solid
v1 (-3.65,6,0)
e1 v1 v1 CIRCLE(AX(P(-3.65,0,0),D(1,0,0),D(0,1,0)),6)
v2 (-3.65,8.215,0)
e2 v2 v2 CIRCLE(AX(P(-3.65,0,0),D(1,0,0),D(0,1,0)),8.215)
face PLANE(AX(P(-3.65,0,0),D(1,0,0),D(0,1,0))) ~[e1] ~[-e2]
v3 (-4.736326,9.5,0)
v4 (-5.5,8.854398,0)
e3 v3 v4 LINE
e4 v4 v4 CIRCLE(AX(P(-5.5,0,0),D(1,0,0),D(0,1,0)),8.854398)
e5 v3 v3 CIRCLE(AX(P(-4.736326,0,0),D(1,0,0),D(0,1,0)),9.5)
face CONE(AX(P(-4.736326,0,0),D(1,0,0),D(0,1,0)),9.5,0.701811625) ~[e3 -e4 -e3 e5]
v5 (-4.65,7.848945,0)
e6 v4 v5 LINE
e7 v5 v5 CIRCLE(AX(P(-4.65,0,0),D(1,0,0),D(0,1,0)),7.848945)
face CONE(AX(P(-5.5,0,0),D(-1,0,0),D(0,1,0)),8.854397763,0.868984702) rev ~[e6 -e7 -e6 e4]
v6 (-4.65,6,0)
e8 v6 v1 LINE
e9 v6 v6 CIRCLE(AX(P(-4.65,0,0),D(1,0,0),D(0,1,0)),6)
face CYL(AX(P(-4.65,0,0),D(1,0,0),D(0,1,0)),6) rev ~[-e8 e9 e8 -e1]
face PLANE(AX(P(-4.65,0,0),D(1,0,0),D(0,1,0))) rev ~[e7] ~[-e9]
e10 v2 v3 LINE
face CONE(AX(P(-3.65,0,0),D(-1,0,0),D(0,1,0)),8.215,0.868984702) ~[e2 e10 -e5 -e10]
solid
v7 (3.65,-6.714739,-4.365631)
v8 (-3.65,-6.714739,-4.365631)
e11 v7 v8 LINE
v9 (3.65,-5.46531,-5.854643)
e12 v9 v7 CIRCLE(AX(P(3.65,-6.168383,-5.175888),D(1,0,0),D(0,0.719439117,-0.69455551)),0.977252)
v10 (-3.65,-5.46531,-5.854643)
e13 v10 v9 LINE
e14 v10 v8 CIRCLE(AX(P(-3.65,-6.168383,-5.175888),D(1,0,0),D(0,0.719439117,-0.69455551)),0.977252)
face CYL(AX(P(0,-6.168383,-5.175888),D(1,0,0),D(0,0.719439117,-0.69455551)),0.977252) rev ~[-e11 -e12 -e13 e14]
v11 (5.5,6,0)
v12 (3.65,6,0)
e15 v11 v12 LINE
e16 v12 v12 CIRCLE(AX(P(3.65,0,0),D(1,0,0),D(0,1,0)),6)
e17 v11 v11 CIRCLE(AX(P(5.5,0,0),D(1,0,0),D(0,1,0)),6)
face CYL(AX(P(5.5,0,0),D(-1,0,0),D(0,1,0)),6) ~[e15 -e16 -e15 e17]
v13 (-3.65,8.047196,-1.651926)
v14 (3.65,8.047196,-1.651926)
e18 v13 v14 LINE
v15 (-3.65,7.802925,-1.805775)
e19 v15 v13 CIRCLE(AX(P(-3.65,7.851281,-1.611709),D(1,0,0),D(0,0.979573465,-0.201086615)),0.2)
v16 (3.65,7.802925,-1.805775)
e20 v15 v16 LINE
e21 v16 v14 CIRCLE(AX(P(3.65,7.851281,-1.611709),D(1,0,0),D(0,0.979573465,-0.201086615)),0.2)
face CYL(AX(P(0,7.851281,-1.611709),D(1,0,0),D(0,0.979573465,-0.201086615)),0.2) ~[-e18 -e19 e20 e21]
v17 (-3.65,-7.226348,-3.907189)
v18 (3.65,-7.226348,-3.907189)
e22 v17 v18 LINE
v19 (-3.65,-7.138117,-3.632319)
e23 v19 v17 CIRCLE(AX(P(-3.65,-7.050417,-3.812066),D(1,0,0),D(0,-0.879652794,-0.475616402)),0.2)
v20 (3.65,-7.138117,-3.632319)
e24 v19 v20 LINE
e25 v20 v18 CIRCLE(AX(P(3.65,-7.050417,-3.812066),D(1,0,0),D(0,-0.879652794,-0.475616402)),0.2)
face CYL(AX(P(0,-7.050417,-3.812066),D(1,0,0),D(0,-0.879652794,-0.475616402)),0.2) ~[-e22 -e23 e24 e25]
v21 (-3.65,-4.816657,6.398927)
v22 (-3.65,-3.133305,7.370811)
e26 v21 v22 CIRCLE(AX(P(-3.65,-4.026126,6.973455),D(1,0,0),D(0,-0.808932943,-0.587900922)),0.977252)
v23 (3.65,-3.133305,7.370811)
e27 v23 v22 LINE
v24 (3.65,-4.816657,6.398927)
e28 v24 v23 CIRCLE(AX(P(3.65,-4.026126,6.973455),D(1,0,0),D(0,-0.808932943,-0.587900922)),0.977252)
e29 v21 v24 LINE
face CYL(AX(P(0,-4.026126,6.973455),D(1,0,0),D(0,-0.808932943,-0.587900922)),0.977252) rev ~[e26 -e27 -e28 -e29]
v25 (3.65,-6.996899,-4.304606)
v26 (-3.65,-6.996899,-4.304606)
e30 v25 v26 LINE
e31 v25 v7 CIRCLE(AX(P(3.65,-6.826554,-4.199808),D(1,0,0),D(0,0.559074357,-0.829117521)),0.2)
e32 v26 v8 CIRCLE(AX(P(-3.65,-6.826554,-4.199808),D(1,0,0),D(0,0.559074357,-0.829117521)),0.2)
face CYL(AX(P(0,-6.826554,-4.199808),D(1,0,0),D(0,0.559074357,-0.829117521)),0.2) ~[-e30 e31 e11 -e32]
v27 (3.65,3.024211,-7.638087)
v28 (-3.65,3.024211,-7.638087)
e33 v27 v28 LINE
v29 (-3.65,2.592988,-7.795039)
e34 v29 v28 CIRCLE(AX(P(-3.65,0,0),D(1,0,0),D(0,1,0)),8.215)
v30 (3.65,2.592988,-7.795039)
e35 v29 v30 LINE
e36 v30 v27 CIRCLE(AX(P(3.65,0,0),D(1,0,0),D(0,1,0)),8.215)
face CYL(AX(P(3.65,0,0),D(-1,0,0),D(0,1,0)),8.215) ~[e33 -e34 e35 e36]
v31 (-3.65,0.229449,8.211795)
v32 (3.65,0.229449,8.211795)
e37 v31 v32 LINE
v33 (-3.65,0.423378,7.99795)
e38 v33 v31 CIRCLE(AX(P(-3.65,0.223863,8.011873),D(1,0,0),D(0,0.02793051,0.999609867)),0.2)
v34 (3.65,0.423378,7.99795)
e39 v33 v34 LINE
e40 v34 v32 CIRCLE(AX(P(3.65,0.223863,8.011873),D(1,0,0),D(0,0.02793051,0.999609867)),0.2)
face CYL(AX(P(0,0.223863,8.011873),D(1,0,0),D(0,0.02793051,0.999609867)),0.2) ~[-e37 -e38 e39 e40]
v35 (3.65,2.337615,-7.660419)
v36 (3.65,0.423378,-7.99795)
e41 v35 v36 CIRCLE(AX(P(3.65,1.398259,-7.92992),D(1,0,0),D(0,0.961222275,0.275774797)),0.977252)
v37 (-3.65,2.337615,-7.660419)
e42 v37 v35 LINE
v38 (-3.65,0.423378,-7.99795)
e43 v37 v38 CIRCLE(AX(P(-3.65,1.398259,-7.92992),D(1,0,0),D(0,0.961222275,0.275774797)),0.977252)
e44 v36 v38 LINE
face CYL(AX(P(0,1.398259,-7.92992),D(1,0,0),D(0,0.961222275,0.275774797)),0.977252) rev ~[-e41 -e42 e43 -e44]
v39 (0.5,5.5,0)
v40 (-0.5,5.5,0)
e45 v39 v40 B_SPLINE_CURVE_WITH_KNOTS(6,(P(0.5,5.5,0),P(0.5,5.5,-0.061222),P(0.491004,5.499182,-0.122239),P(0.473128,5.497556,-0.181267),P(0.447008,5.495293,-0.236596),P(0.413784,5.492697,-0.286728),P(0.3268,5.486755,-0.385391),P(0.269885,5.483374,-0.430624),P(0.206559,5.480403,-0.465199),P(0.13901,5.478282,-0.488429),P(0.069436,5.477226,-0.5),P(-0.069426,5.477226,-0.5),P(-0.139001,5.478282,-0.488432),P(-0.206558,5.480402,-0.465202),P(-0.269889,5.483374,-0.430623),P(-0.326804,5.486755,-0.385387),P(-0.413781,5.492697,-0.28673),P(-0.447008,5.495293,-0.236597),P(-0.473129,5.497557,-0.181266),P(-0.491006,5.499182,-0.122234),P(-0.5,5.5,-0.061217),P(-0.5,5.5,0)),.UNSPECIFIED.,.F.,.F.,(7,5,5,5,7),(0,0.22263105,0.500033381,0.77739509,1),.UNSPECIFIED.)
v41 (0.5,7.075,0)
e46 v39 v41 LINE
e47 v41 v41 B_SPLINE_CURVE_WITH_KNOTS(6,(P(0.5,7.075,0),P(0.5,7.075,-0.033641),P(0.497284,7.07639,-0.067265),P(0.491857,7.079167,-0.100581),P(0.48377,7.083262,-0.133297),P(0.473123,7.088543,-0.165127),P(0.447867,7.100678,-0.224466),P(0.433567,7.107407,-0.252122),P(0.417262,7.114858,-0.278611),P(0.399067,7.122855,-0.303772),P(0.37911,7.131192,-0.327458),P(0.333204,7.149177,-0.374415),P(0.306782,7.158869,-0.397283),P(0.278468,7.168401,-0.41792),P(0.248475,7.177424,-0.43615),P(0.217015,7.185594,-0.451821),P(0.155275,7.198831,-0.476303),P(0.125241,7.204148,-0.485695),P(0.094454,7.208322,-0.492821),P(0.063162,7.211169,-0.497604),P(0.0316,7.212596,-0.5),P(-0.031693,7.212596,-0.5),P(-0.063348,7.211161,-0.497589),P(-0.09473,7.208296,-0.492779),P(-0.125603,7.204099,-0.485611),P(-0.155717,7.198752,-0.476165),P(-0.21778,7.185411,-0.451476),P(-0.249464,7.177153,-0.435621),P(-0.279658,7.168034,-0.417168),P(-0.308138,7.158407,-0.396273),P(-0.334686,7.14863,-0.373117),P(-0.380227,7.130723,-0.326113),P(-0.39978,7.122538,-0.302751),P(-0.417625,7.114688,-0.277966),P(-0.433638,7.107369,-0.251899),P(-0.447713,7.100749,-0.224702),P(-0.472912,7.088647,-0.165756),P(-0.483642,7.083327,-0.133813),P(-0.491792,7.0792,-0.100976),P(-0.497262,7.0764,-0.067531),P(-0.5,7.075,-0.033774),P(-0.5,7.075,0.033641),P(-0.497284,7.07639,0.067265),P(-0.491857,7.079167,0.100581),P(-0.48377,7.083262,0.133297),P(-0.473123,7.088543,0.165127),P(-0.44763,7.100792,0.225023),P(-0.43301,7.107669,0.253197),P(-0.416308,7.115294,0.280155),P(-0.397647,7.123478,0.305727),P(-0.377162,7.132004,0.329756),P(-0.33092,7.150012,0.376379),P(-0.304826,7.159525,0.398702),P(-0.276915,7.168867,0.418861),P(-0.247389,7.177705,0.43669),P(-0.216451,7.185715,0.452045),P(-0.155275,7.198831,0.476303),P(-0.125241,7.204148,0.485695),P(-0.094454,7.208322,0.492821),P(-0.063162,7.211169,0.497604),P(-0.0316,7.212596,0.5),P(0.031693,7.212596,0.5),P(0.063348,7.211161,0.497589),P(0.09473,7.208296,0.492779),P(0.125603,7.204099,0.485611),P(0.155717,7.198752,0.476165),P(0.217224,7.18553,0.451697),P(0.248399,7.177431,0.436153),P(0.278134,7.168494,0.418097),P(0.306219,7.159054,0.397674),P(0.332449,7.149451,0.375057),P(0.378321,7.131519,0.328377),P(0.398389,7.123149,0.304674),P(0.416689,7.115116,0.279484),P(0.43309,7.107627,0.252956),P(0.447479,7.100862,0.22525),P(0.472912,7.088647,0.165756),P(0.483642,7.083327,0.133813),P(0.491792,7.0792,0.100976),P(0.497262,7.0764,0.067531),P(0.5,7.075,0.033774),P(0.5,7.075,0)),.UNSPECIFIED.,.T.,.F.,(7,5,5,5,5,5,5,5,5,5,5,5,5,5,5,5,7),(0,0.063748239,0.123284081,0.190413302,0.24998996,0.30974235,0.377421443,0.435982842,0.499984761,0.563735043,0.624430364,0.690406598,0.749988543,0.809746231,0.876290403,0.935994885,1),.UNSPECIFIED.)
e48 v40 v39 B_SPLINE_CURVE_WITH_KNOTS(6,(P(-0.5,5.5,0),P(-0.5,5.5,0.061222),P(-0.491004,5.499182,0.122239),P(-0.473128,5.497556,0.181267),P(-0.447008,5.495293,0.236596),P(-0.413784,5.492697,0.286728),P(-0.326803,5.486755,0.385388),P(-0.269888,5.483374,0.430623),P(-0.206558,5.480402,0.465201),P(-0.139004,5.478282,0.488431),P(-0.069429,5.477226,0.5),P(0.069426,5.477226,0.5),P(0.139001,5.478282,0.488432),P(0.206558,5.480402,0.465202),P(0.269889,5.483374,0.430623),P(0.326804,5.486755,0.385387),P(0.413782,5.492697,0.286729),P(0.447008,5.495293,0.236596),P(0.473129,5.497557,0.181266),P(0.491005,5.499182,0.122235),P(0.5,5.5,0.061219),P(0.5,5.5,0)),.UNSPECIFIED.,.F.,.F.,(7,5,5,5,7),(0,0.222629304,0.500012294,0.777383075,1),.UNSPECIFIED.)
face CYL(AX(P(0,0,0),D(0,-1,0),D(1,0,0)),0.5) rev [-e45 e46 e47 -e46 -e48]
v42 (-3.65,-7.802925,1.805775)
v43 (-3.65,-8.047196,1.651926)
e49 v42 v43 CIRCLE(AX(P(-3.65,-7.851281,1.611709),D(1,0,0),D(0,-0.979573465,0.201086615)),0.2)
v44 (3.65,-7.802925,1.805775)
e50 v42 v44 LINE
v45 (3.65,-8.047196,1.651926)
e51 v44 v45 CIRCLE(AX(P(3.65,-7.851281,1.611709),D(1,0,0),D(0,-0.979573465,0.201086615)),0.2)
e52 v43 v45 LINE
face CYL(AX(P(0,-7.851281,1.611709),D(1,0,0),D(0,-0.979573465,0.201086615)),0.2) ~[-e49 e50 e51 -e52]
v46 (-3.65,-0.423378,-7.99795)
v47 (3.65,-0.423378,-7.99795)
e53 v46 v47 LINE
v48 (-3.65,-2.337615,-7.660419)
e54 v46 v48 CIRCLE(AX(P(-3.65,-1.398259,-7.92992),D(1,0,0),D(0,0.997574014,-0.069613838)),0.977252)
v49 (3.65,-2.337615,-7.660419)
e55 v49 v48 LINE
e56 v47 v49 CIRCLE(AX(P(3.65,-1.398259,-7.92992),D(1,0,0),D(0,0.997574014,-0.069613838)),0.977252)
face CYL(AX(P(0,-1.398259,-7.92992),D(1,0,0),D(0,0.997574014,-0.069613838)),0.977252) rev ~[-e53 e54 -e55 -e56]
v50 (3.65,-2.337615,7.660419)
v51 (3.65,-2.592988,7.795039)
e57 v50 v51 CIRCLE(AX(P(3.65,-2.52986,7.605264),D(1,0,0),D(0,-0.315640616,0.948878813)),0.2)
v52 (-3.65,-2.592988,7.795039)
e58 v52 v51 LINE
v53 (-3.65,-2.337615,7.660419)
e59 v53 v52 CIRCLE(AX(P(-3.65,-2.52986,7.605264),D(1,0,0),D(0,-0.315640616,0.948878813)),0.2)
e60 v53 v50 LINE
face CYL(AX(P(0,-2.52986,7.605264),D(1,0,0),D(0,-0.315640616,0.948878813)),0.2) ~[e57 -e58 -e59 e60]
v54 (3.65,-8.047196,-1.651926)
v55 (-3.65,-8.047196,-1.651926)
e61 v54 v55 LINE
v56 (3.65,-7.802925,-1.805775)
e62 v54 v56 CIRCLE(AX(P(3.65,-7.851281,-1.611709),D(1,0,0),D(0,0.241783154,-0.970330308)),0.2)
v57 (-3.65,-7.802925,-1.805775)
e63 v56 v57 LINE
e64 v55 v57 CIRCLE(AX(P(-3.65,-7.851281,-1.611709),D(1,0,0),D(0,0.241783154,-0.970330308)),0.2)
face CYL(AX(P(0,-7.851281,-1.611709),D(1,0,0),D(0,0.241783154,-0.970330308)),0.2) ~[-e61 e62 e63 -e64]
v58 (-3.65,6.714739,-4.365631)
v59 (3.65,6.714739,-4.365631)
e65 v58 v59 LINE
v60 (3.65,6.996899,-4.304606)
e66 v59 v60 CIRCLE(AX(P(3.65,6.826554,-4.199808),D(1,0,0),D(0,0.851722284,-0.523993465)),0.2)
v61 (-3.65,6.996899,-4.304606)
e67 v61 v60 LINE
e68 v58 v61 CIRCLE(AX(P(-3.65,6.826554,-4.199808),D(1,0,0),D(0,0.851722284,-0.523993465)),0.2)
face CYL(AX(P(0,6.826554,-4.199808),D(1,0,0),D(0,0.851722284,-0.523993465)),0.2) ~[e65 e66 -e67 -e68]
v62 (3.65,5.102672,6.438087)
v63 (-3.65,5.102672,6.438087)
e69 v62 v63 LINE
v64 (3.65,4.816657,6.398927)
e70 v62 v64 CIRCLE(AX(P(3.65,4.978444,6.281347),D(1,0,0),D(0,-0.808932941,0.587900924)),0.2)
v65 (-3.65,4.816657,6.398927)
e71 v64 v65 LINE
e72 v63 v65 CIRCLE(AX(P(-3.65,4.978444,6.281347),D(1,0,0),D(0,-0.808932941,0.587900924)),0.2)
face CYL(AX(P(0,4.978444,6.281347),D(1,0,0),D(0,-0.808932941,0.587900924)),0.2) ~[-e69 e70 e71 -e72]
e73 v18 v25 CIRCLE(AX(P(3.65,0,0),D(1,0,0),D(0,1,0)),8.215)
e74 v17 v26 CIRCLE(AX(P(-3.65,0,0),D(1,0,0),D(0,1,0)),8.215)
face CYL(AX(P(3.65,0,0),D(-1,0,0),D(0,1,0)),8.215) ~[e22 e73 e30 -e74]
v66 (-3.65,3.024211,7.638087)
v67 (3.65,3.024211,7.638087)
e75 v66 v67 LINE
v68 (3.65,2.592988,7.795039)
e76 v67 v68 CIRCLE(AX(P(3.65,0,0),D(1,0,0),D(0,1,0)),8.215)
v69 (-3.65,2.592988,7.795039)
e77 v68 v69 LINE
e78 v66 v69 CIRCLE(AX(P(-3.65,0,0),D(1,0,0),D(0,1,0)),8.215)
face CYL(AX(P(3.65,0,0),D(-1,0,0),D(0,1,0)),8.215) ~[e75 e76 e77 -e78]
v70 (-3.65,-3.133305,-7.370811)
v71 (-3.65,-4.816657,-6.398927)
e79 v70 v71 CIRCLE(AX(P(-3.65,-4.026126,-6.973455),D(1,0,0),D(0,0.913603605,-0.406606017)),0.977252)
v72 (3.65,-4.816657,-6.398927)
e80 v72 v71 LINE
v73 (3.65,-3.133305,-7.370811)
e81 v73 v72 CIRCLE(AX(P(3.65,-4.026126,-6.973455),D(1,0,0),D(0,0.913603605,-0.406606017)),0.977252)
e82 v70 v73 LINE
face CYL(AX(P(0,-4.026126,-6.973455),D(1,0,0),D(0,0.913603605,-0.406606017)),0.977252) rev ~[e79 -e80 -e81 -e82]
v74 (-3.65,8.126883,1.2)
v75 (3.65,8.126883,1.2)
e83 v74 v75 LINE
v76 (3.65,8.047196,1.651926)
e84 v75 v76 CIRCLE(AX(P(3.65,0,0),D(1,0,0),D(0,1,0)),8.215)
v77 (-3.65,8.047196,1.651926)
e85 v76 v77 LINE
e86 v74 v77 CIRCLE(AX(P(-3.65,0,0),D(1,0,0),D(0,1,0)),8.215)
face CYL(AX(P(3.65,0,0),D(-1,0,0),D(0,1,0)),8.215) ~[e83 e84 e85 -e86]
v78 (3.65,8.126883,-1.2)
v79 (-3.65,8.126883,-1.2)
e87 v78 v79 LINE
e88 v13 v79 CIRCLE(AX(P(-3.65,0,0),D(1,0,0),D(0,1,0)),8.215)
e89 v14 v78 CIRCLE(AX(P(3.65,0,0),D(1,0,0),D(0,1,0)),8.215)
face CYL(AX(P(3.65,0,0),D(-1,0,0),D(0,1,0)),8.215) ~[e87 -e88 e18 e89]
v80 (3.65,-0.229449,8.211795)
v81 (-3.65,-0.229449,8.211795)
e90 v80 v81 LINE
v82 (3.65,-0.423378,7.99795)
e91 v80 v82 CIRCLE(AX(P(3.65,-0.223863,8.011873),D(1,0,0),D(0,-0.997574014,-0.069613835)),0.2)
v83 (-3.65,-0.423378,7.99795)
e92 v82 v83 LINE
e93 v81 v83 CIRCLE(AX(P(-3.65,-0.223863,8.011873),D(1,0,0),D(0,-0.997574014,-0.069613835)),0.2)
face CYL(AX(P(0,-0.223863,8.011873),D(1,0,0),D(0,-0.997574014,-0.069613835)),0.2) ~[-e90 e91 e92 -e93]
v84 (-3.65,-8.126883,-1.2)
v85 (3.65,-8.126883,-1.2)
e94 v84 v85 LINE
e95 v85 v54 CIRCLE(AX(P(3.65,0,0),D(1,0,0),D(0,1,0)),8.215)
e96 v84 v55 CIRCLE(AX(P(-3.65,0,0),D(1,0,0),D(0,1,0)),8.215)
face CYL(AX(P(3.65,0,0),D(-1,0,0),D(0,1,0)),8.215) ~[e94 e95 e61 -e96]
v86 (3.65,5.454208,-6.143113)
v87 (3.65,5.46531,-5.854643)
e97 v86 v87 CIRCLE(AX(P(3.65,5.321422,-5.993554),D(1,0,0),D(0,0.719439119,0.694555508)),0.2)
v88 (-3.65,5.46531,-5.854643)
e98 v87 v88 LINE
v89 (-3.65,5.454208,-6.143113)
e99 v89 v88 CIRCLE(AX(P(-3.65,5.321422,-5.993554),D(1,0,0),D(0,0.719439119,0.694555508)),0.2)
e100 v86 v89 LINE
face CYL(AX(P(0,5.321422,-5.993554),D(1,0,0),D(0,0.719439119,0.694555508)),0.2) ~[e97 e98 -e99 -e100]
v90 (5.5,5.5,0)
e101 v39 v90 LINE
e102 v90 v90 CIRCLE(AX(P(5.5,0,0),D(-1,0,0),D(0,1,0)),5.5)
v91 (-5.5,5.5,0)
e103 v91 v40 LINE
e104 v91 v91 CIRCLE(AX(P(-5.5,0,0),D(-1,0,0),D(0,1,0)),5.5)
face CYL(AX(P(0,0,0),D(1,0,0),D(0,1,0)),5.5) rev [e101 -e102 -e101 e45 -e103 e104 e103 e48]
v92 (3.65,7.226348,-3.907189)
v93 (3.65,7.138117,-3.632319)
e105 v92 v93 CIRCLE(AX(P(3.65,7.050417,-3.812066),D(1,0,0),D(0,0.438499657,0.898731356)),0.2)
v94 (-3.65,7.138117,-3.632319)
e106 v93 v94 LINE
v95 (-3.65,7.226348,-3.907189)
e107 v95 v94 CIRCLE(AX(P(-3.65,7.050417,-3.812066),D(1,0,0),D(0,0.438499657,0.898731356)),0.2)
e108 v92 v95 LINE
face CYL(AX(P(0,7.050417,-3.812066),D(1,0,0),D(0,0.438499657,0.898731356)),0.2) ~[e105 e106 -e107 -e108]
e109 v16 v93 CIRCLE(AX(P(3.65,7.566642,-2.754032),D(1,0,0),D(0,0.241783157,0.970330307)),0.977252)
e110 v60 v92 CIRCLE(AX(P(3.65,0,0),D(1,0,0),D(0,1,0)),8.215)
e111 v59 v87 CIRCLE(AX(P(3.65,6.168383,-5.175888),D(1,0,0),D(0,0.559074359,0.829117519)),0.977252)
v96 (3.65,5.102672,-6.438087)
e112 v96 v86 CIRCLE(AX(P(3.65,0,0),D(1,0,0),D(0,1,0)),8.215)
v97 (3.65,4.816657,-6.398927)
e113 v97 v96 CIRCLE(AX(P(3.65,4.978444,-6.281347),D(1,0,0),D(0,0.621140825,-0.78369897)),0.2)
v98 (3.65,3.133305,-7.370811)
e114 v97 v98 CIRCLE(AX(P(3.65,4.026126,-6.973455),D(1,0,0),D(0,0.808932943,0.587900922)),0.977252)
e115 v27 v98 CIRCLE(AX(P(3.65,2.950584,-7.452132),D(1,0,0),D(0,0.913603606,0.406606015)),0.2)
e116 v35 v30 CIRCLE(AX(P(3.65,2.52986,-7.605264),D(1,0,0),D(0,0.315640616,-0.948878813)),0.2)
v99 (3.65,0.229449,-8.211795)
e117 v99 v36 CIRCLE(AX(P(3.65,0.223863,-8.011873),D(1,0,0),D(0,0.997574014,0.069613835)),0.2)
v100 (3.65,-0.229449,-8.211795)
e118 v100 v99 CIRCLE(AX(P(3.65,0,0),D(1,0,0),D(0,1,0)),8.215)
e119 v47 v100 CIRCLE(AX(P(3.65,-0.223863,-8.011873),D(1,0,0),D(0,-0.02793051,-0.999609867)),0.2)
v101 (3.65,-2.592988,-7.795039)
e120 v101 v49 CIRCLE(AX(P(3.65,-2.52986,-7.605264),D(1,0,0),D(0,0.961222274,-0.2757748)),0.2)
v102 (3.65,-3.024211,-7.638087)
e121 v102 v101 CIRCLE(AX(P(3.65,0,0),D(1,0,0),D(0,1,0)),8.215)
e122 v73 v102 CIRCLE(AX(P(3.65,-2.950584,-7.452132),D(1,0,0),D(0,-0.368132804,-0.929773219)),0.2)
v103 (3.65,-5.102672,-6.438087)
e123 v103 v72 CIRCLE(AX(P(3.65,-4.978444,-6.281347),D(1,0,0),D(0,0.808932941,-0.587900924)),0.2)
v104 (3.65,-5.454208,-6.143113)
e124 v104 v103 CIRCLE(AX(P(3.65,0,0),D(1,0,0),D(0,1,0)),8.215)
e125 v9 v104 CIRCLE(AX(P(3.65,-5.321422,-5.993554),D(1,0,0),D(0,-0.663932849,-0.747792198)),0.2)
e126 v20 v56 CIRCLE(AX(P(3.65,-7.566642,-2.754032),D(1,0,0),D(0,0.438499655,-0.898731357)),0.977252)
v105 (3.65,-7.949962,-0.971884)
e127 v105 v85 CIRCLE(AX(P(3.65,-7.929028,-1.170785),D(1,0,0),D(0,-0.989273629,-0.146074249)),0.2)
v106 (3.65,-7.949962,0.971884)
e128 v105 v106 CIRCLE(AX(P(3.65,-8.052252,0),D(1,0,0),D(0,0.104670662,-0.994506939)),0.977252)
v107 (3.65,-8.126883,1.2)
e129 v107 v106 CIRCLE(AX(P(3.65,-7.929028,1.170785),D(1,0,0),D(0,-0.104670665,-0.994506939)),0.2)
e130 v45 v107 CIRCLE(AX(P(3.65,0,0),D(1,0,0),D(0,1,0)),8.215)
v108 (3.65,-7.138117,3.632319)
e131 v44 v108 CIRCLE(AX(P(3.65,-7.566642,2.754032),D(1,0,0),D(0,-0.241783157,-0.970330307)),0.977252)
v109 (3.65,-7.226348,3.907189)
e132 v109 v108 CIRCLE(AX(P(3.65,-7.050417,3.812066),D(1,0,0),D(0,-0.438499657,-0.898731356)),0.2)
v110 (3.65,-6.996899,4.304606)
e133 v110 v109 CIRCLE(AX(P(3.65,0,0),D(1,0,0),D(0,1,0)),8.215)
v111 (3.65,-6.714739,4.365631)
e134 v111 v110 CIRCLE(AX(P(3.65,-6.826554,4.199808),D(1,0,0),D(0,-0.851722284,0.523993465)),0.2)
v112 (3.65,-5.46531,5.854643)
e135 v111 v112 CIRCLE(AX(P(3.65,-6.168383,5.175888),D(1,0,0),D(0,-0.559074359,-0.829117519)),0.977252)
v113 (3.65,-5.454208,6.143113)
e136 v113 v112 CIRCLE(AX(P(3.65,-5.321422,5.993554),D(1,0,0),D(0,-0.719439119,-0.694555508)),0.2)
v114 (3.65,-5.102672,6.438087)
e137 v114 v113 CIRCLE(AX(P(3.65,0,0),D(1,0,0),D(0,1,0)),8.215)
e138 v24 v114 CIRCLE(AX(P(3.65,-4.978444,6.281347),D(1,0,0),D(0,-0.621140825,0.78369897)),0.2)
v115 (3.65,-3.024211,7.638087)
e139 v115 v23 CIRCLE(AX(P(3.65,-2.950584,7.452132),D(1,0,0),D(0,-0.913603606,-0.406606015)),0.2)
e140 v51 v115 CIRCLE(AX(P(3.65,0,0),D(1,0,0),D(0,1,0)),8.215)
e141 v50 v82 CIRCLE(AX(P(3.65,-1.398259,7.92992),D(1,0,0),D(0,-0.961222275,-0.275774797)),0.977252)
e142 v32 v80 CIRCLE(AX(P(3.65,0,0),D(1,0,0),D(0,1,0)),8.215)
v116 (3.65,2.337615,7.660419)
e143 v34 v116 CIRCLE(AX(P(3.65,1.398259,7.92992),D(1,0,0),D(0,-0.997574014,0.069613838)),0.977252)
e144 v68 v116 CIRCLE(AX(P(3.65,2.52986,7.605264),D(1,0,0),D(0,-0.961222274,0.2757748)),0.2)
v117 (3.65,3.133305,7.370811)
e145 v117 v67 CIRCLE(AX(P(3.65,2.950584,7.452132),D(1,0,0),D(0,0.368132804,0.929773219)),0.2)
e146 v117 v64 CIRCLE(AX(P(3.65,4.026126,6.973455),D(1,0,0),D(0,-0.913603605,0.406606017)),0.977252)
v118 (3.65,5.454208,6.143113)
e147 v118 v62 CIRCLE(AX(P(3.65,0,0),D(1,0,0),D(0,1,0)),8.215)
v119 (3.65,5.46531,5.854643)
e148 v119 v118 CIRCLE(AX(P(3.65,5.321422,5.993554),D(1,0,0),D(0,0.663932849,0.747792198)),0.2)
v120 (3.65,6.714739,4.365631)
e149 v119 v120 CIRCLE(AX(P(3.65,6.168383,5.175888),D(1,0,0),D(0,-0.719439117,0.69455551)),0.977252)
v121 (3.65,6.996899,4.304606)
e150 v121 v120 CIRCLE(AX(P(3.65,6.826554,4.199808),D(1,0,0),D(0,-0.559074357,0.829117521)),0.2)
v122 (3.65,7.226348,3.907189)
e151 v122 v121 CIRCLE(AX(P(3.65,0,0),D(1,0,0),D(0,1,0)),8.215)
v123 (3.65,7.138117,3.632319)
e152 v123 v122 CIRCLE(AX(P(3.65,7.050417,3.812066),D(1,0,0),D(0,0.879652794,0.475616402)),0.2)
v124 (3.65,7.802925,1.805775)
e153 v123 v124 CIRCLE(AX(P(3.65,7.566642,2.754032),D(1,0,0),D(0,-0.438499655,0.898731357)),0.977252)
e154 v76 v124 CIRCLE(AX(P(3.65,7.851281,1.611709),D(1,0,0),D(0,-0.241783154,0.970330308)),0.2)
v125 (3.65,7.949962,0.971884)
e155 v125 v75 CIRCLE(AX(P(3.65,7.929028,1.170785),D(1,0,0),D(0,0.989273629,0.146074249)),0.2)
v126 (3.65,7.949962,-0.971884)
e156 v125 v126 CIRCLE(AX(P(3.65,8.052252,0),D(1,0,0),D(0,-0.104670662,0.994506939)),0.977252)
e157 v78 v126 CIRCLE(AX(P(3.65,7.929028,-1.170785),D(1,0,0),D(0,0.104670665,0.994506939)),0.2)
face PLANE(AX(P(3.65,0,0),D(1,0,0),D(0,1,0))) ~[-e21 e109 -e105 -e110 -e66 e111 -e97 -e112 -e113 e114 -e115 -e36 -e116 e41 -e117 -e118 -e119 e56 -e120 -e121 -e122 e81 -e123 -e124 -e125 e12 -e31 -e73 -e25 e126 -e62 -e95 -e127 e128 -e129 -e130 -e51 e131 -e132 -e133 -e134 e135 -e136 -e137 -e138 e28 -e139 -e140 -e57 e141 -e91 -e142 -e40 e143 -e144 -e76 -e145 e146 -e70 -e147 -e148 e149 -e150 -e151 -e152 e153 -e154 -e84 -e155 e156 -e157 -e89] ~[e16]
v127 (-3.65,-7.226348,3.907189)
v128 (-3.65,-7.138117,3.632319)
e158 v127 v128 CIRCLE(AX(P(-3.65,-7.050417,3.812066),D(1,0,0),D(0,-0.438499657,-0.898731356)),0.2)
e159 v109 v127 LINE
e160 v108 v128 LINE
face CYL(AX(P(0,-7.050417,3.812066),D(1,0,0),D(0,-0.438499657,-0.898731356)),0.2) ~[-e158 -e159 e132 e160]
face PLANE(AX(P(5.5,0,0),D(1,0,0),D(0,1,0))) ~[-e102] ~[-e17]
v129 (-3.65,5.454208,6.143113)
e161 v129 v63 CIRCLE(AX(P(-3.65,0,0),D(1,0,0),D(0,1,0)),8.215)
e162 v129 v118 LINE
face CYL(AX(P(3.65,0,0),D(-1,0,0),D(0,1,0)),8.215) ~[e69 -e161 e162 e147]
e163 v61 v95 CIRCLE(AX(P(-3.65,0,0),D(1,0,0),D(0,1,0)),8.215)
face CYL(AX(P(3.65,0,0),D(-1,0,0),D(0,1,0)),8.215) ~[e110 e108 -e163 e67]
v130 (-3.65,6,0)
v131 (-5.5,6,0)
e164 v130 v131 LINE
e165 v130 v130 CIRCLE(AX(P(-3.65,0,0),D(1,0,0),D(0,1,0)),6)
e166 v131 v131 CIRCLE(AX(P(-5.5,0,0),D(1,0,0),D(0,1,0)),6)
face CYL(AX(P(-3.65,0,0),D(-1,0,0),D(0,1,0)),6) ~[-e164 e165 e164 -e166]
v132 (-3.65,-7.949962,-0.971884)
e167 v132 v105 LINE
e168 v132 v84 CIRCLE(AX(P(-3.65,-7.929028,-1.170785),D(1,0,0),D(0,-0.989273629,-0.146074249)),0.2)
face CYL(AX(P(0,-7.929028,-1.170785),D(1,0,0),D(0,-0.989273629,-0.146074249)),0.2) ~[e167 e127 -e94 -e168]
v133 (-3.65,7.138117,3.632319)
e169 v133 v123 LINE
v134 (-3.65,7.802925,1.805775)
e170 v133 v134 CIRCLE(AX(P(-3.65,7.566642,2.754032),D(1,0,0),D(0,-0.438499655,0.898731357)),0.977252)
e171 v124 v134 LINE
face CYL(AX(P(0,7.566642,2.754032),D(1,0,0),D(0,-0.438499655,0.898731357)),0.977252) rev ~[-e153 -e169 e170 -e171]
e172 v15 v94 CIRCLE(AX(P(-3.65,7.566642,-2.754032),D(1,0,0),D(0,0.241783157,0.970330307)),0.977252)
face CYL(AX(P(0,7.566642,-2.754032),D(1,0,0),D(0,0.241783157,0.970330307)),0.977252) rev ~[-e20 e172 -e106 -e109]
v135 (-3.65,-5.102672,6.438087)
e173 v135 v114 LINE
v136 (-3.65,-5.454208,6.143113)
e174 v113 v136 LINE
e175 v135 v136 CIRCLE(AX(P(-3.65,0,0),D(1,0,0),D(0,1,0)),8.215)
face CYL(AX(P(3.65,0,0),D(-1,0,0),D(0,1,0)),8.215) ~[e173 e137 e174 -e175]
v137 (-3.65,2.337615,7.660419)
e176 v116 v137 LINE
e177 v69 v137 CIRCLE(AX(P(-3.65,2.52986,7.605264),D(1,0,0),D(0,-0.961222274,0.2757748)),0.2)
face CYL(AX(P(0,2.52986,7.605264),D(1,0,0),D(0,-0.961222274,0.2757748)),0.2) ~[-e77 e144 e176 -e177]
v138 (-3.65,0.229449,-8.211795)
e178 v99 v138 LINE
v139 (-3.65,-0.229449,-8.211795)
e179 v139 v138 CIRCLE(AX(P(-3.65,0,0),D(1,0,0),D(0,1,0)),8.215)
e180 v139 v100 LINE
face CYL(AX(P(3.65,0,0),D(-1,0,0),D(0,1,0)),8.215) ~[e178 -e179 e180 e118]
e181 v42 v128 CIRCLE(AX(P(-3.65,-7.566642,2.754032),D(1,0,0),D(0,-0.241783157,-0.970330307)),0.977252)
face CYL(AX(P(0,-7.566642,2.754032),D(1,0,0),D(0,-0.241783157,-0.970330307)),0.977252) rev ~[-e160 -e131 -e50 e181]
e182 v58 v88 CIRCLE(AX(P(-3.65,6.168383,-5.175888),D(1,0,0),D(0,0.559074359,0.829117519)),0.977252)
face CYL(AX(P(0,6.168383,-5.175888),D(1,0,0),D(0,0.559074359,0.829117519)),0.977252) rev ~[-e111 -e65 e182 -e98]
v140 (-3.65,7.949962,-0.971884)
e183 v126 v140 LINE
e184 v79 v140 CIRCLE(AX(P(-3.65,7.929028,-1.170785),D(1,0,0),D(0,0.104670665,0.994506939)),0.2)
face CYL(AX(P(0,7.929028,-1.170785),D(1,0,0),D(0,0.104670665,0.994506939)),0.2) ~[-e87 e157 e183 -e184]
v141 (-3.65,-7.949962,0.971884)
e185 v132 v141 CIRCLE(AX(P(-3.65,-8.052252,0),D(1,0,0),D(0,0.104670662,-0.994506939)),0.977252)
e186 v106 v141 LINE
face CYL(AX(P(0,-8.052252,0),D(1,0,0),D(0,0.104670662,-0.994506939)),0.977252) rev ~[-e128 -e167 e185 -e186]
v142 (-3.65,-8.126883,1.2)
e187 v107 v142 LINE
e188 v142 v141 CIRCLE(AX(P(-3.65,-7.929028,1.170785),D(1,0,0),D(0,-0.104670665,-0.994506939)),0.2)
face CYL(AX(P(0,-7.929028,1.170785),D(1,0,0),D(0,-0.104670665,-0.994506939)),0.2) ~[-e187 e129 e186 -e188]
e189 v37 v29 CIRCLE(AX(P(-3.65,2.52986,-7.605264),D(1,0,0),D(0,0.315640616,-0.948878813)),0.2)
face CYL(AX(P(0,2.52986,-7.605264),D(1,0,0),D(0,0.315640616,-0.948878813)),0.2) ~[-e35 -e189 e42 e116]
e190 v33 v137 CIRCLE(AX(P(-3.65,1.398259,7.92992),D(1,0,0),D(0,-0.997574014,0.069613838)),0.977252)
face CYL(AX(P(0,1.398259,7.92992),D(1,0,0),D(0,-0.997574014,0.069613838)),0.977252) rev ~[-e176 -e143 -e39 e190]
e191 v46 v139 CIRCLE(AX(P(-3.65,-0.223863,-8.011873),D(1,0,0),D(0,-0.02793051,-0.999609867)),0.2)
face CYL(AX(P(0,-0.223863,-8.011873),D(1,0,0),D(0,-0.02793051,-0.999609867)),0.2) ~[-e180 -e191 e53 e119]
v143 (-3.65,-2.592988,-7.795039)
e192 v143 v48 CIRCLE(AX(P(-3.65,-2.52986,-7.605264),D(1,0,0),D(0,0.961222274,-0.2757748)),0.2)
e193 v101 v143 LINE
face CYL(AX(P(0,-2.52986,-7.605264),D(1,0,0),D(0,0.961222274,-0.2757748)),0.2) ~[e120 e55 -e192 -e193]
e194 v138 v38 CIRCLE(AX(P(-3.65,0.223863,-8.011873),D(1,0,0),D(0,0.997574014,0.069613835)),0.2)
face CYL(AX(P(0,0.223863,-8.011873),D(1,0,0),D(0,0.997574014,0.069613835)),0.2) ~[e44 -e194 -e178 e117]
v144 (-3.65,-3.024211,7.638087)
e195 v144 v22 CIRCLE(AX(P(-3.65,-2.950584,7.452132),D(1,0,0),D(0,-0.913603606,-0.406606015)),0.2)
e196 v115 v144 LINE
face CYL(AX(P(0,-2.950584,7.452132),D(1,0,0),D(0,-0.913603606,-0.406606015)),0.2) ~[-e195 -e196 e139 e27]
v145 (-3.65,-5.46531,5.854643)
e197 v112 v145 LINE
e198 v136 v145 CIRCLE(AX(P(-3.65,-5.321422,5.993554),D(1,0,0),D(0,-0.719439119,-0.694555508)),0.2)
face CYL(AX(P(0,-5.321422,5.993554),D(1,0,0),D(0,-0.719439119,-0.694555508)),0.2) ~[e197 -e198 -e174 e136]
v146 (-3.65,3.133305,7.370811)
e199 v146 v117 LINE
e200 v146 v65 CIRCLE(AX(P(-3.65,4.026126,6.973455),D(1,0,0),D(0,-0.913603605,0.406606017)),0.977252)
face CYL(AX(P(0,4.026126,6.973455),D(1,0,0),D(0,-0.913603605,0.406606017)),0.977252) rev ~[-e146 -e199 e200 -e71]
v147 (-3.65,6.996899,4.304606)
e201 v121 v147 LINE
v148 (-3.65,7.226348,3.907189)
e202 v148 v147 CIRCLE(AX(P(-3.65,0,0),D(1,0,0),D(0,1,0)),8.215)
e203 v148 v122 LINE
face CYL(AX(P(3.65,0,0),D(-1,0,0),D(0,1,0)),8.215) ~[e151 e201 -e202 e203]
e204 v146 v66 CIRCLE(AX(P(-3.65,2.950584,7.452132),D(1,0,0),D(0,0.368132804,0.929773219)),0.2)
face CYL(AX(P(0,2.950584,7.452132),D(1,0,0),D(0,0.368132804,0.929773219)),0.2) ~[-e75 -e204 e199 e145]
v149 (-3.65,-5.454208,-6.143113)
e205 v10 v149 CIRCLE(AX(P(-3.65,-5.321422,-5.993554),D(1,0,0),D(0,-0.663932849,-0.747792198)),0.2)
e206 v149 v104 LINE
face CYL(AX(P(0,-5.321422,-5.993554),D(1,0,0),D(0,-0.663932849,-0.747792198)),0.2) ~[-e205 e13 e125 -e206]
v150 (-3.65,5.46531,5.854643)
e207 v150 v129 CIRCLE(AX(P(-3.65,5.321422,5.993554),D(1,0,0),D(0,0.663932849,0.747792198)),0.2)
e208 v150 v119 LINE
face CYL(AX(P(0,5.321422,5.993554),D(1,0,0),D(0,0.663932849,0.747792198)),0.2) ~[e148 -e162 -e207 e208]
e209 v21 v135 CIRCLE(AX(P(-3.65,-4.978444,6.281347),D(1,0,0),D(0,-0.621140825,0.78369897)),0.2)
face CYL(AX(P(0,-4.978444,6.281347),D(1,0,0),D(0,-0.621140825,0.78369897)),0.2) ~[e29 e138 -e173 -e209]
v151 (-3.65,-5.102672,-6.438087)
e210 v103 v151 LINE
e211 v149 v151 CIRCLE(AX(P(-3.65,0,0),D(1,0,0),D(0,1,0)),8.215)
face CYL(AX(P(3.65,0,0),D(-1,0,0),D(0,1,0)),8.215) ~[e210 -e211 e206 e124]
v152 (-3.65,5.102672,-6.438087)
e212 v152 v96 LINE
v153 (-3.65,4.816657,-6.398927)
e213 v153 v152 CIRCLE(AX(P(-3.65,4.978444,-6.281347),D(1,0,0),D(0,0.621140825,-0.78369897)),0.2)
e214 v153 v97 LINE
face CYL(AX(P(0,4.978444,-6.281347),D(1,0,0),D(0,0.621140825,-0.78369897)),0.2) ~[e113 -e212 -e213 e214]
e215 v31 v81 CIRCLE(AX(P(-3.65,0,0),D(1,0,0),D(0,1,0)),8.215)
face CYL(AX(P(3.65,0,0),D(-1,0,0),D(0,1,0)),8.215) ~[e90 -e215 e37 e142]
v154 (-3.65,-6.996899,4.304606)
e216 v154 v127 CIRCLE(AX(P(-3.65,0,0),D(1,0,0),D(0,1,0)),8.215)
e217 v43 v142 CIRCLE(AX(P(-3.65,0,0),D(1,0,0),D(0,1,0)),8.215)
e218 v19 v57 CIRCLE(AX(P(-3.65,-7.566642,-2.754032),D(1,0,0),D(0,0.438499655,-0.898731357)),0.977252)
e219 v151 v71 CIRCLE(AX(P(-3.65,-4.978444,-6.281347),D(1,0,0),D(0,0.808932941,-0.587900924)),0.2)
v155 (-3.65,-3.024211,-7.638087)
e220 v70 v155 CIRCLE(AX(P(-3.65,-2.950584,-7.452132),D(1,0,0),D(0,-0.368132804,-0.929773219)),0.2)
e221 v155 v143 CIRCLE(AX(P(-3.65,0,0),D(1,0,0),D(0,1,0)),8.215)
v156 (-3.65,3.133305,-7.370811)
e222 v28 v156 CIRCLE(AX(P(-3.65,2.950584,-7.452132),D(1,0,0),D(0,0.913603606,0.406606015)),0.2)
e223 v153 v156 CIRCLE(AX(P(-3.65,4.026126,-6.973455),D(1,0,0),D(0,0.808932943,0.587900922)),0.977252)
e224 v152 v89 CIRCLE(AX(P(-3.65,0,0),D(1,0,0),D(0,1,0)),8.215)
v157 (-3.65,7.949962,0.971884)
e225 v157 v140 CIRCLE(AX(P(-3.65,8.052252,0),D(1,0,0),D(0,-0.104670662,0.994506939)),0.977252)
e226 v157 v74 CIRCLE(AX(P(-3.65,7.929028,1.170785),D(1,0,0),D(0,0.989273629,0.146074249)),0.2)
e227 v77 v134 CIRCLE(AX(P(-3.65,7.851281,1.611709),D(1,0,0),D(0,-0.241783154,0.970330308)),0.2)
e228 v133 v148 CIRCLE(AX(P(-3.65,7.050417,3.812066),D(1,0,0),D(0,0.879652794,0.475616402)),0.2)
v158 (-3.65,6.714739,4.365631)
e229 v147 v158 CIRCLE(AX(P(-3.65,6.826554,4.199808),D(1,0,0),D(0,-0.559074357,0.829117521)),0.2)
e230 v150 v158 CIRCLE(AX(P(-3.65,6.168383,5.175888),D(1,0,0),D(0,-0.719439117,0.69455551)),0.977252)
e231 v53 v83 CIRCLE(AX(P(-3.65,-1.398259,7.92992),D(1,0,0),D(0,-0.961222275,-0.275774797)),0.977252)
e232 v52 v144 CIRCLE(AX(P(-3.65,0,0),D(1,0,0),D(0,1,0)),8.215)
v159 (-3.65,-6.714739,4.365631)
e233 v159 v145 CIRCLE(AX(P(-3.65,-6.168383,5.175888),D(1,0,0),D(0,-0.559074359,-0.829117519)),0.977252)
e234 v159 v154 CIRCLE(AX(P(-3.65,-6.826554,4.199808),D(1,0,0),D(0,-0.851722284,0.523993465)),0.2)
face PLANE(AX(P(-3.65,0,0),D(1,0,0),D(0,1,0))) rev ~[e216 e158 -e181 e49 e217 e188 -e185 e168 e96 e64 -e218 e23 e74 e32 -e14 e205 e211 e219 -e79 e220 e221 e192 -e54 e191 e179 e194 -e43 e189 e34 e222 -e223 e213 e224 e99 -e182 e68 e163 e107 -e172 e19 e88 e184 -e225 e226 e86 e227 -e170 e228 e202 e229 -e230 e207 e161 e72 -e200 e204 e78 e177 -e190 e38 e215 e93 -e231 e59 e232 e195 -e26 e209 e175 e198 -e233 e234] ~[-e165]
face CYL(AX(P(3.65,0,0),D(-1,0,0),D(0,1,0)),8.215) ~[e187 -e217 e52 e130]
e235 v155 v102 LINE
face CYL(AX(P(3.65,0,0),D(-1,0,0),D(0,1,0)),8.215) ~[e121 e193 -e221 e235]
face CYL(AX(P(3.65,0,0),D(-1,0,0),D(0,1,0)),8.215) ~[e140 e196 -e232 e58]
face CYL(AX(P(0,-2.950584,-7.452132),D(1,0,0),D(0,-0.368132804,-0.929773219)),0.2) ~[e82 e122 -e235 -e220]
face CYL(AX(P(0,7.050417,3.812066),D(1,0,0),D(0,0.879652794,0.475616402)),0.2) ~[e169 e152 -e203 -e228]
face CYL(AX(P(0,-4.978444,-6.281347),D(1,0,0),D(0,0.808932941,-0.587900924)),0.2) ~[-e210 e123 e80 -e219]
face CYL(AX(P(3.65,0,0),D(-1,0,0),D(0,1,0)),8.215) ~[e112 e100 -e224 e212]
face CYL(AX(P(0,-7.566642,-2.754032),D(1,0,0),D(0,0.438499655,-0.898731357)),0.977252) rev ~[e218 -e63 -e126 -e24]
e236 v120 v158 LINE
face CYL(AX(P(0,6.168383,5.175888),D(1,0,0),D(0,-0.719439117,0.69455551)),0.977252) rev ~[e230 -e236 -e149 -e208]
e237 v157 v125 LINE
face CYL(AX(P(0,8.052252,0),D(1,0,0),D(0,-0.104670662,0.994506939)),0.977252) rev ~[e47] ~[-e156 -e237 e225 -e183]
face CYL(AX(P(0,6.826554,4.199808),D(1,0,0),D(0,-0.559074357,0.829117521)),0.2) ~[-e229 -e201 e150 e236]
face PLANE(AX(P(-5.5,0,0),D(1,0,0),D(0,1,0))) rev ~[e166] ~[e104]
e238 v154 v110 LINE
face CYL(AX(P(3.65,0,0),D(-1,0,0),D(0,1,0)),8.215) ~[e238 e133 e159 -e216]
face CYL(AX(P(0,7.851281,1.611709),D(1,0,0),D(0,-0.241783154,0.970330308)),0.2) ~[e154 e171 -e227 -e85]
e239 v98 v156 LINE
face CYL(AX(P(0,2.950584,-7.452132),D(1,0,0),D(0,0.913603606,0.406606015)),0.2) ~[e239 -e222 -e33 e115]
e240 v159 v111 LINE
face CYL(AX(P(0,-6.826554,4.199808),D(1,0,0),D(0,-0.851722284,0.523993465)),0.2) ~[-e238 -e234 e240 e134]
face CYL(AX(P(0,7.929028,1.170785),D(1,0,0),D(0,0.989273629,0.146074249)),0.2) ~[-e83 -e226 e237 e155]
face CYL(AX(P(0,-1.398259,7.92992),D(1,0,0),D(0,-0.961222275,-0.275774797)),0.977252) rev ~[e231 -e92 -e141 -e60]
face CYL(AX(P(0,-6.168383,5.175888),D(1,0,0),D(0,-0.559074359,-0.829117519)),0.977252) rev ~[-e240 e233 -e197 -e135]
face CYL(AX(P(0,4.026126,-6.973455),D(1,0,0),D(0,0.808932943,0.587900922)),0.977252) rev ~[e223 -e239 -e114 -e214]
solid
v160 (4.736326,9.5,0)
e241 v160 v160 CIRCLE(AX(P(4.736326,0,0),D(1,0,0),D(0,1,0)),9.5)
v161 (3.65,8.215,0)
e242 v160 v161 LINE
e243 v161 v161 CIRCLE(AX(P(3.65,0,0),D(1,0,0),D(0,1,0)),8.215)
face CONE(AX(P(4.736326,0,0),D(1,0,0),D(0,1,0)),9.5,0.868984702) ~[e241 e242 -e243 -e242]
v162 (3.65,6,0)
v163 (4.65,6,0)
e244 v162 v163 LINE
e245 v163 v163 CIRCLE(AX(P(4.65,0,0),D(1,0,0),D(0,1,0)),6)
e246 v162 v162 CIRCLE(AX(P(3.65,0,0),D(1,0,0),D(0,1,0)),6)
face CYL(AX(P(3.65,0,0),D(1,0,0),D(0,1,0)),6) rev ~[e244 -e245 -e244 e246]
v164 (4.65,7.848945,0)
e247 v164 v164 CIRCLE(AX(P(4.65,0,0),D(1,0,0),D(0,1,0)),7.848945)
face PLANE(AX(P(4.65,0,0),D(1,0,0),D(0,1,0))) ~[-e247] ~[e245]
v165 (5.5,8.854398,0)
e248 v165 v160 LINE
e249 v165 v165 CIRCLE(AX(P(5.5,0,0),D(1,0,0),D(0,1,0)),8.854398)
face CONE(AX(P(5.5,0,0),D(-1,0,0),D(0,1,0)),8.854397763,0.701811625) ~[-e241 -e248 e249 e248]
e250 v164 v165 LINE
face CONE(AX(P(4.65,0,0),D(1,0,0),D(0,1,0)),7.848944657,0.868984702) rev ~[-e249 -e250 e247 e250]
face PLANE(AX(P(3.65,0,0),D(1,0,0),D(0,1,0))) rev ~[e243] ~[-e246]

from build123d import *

# Parameters (mm, degrees)
CUT_EXTRUDE1_DEPTH = 6.5
CIRPATTERN1_COUNT  = 18
SKETCH4_W          = 11
SKETCH4_H          = 5.5
SKETCH5_R          = 0.5
CUT_EXTRUDE2_DEPTH = 10.5


with BuildPart() as part:
    # Sketch1 → Revolve1 (revolve)
    with BuildSketch(Plane.XY):
        Polygon((-5.5, 4), (5.5, 4), (5.5, 6), (3.65, 6), (3.65, 8.215), (-3.65, 8.215), (-3.65, 6), (-5.5, 6), align=None)
    revolve(axis=Axis((-16.041522885, 0, 0), (1, 0, 0)))

    # Sketch2 → Cut-Extrude1 (cut, symmetric)
    with BuildSketch(Plane(origin=(0, 0, 0), x_dir=(0, 0, -1), z_dir=(1, 0, 0))):
        with BuildLine():
            ThreePointArc((1.2, 8.126882859), (0, 8.215), (-1.2, 8.126882859))
            ThreePointArc((-1.2, 8.126882859), (-1.048214336, 8.087067355), (-0.971883761, 7.949962265))
            ThreePointArc((-0.971883761, 7.949962265), (0, 7.075), (0.971883761, 7.949962265))
            ThreePointArc((0.971883761, 7.949962265), (1.048214336, 8.087067355), (1.2, 8.126882859))
        make_face()
    cut_extrude1 = extrude(amount=CUT_EXTRUDE1_DEPTH, both=True, mode=Mode.SUBTRACT)

    # CirPattern1: Cut-Extrude1 ×18 about axis
    cirpattern1_axis = Axis((0, 0, 0), (1, 0, 0))
    for i in range(1, CIRPATTERN1_COUNT):
        add(cut_extrude1.rotate(cirpattern1_axis, i * 360 / CIRPATTERN1_COUNT), mode=Mode.SUBTRACT)

    # Sketch4 → Cut-Revolve1 (revolve, cut)
    with BuildSketch(Plane.XY):
        with Locations((0, 2.75)):
            Rectangle(SKETCH4_W, SKETCH4_H)
    revolve(axis=Axis((0, 0, 0), (-1, 0, 0)), mode=Mode.SUBTRACT)

    # Sketch5 → Cut-Extrude2 (cut, through all)
    with BuildSketch(Plane(origin=(0, 0, 0), x_dir=(1, 0, 0), z_dir=(0, 1, 0))):
        Circle(SKETCH5_R)
    extrude(amount=CUT_EXTRUDE2_DEPTH, mode=Mode.SUBTRACT)


with BuildPart() as body_2:
    # Sketch3 → Revolve2 (revolve)
    with BuildSketch(Plane.XY):
        Polygon((3.65, 6), (4.65, 6), (4.65, 7.848944657), (5.5, 8.854397763), (4.736326148, 9.5), (3.65, 8.215), align=None)
        Polygon((-3.65, 6), (-3.65, 8.215), (-4.736326148, 9.5), (-5.5, 8.854397763), (-4.65, 7.848944657), (-4.65, 6), align=None)
    revolve(axis=Axis((0, 0, 0), (1, 0, 0)))


solid = Compound([part.part, body_2.part])
